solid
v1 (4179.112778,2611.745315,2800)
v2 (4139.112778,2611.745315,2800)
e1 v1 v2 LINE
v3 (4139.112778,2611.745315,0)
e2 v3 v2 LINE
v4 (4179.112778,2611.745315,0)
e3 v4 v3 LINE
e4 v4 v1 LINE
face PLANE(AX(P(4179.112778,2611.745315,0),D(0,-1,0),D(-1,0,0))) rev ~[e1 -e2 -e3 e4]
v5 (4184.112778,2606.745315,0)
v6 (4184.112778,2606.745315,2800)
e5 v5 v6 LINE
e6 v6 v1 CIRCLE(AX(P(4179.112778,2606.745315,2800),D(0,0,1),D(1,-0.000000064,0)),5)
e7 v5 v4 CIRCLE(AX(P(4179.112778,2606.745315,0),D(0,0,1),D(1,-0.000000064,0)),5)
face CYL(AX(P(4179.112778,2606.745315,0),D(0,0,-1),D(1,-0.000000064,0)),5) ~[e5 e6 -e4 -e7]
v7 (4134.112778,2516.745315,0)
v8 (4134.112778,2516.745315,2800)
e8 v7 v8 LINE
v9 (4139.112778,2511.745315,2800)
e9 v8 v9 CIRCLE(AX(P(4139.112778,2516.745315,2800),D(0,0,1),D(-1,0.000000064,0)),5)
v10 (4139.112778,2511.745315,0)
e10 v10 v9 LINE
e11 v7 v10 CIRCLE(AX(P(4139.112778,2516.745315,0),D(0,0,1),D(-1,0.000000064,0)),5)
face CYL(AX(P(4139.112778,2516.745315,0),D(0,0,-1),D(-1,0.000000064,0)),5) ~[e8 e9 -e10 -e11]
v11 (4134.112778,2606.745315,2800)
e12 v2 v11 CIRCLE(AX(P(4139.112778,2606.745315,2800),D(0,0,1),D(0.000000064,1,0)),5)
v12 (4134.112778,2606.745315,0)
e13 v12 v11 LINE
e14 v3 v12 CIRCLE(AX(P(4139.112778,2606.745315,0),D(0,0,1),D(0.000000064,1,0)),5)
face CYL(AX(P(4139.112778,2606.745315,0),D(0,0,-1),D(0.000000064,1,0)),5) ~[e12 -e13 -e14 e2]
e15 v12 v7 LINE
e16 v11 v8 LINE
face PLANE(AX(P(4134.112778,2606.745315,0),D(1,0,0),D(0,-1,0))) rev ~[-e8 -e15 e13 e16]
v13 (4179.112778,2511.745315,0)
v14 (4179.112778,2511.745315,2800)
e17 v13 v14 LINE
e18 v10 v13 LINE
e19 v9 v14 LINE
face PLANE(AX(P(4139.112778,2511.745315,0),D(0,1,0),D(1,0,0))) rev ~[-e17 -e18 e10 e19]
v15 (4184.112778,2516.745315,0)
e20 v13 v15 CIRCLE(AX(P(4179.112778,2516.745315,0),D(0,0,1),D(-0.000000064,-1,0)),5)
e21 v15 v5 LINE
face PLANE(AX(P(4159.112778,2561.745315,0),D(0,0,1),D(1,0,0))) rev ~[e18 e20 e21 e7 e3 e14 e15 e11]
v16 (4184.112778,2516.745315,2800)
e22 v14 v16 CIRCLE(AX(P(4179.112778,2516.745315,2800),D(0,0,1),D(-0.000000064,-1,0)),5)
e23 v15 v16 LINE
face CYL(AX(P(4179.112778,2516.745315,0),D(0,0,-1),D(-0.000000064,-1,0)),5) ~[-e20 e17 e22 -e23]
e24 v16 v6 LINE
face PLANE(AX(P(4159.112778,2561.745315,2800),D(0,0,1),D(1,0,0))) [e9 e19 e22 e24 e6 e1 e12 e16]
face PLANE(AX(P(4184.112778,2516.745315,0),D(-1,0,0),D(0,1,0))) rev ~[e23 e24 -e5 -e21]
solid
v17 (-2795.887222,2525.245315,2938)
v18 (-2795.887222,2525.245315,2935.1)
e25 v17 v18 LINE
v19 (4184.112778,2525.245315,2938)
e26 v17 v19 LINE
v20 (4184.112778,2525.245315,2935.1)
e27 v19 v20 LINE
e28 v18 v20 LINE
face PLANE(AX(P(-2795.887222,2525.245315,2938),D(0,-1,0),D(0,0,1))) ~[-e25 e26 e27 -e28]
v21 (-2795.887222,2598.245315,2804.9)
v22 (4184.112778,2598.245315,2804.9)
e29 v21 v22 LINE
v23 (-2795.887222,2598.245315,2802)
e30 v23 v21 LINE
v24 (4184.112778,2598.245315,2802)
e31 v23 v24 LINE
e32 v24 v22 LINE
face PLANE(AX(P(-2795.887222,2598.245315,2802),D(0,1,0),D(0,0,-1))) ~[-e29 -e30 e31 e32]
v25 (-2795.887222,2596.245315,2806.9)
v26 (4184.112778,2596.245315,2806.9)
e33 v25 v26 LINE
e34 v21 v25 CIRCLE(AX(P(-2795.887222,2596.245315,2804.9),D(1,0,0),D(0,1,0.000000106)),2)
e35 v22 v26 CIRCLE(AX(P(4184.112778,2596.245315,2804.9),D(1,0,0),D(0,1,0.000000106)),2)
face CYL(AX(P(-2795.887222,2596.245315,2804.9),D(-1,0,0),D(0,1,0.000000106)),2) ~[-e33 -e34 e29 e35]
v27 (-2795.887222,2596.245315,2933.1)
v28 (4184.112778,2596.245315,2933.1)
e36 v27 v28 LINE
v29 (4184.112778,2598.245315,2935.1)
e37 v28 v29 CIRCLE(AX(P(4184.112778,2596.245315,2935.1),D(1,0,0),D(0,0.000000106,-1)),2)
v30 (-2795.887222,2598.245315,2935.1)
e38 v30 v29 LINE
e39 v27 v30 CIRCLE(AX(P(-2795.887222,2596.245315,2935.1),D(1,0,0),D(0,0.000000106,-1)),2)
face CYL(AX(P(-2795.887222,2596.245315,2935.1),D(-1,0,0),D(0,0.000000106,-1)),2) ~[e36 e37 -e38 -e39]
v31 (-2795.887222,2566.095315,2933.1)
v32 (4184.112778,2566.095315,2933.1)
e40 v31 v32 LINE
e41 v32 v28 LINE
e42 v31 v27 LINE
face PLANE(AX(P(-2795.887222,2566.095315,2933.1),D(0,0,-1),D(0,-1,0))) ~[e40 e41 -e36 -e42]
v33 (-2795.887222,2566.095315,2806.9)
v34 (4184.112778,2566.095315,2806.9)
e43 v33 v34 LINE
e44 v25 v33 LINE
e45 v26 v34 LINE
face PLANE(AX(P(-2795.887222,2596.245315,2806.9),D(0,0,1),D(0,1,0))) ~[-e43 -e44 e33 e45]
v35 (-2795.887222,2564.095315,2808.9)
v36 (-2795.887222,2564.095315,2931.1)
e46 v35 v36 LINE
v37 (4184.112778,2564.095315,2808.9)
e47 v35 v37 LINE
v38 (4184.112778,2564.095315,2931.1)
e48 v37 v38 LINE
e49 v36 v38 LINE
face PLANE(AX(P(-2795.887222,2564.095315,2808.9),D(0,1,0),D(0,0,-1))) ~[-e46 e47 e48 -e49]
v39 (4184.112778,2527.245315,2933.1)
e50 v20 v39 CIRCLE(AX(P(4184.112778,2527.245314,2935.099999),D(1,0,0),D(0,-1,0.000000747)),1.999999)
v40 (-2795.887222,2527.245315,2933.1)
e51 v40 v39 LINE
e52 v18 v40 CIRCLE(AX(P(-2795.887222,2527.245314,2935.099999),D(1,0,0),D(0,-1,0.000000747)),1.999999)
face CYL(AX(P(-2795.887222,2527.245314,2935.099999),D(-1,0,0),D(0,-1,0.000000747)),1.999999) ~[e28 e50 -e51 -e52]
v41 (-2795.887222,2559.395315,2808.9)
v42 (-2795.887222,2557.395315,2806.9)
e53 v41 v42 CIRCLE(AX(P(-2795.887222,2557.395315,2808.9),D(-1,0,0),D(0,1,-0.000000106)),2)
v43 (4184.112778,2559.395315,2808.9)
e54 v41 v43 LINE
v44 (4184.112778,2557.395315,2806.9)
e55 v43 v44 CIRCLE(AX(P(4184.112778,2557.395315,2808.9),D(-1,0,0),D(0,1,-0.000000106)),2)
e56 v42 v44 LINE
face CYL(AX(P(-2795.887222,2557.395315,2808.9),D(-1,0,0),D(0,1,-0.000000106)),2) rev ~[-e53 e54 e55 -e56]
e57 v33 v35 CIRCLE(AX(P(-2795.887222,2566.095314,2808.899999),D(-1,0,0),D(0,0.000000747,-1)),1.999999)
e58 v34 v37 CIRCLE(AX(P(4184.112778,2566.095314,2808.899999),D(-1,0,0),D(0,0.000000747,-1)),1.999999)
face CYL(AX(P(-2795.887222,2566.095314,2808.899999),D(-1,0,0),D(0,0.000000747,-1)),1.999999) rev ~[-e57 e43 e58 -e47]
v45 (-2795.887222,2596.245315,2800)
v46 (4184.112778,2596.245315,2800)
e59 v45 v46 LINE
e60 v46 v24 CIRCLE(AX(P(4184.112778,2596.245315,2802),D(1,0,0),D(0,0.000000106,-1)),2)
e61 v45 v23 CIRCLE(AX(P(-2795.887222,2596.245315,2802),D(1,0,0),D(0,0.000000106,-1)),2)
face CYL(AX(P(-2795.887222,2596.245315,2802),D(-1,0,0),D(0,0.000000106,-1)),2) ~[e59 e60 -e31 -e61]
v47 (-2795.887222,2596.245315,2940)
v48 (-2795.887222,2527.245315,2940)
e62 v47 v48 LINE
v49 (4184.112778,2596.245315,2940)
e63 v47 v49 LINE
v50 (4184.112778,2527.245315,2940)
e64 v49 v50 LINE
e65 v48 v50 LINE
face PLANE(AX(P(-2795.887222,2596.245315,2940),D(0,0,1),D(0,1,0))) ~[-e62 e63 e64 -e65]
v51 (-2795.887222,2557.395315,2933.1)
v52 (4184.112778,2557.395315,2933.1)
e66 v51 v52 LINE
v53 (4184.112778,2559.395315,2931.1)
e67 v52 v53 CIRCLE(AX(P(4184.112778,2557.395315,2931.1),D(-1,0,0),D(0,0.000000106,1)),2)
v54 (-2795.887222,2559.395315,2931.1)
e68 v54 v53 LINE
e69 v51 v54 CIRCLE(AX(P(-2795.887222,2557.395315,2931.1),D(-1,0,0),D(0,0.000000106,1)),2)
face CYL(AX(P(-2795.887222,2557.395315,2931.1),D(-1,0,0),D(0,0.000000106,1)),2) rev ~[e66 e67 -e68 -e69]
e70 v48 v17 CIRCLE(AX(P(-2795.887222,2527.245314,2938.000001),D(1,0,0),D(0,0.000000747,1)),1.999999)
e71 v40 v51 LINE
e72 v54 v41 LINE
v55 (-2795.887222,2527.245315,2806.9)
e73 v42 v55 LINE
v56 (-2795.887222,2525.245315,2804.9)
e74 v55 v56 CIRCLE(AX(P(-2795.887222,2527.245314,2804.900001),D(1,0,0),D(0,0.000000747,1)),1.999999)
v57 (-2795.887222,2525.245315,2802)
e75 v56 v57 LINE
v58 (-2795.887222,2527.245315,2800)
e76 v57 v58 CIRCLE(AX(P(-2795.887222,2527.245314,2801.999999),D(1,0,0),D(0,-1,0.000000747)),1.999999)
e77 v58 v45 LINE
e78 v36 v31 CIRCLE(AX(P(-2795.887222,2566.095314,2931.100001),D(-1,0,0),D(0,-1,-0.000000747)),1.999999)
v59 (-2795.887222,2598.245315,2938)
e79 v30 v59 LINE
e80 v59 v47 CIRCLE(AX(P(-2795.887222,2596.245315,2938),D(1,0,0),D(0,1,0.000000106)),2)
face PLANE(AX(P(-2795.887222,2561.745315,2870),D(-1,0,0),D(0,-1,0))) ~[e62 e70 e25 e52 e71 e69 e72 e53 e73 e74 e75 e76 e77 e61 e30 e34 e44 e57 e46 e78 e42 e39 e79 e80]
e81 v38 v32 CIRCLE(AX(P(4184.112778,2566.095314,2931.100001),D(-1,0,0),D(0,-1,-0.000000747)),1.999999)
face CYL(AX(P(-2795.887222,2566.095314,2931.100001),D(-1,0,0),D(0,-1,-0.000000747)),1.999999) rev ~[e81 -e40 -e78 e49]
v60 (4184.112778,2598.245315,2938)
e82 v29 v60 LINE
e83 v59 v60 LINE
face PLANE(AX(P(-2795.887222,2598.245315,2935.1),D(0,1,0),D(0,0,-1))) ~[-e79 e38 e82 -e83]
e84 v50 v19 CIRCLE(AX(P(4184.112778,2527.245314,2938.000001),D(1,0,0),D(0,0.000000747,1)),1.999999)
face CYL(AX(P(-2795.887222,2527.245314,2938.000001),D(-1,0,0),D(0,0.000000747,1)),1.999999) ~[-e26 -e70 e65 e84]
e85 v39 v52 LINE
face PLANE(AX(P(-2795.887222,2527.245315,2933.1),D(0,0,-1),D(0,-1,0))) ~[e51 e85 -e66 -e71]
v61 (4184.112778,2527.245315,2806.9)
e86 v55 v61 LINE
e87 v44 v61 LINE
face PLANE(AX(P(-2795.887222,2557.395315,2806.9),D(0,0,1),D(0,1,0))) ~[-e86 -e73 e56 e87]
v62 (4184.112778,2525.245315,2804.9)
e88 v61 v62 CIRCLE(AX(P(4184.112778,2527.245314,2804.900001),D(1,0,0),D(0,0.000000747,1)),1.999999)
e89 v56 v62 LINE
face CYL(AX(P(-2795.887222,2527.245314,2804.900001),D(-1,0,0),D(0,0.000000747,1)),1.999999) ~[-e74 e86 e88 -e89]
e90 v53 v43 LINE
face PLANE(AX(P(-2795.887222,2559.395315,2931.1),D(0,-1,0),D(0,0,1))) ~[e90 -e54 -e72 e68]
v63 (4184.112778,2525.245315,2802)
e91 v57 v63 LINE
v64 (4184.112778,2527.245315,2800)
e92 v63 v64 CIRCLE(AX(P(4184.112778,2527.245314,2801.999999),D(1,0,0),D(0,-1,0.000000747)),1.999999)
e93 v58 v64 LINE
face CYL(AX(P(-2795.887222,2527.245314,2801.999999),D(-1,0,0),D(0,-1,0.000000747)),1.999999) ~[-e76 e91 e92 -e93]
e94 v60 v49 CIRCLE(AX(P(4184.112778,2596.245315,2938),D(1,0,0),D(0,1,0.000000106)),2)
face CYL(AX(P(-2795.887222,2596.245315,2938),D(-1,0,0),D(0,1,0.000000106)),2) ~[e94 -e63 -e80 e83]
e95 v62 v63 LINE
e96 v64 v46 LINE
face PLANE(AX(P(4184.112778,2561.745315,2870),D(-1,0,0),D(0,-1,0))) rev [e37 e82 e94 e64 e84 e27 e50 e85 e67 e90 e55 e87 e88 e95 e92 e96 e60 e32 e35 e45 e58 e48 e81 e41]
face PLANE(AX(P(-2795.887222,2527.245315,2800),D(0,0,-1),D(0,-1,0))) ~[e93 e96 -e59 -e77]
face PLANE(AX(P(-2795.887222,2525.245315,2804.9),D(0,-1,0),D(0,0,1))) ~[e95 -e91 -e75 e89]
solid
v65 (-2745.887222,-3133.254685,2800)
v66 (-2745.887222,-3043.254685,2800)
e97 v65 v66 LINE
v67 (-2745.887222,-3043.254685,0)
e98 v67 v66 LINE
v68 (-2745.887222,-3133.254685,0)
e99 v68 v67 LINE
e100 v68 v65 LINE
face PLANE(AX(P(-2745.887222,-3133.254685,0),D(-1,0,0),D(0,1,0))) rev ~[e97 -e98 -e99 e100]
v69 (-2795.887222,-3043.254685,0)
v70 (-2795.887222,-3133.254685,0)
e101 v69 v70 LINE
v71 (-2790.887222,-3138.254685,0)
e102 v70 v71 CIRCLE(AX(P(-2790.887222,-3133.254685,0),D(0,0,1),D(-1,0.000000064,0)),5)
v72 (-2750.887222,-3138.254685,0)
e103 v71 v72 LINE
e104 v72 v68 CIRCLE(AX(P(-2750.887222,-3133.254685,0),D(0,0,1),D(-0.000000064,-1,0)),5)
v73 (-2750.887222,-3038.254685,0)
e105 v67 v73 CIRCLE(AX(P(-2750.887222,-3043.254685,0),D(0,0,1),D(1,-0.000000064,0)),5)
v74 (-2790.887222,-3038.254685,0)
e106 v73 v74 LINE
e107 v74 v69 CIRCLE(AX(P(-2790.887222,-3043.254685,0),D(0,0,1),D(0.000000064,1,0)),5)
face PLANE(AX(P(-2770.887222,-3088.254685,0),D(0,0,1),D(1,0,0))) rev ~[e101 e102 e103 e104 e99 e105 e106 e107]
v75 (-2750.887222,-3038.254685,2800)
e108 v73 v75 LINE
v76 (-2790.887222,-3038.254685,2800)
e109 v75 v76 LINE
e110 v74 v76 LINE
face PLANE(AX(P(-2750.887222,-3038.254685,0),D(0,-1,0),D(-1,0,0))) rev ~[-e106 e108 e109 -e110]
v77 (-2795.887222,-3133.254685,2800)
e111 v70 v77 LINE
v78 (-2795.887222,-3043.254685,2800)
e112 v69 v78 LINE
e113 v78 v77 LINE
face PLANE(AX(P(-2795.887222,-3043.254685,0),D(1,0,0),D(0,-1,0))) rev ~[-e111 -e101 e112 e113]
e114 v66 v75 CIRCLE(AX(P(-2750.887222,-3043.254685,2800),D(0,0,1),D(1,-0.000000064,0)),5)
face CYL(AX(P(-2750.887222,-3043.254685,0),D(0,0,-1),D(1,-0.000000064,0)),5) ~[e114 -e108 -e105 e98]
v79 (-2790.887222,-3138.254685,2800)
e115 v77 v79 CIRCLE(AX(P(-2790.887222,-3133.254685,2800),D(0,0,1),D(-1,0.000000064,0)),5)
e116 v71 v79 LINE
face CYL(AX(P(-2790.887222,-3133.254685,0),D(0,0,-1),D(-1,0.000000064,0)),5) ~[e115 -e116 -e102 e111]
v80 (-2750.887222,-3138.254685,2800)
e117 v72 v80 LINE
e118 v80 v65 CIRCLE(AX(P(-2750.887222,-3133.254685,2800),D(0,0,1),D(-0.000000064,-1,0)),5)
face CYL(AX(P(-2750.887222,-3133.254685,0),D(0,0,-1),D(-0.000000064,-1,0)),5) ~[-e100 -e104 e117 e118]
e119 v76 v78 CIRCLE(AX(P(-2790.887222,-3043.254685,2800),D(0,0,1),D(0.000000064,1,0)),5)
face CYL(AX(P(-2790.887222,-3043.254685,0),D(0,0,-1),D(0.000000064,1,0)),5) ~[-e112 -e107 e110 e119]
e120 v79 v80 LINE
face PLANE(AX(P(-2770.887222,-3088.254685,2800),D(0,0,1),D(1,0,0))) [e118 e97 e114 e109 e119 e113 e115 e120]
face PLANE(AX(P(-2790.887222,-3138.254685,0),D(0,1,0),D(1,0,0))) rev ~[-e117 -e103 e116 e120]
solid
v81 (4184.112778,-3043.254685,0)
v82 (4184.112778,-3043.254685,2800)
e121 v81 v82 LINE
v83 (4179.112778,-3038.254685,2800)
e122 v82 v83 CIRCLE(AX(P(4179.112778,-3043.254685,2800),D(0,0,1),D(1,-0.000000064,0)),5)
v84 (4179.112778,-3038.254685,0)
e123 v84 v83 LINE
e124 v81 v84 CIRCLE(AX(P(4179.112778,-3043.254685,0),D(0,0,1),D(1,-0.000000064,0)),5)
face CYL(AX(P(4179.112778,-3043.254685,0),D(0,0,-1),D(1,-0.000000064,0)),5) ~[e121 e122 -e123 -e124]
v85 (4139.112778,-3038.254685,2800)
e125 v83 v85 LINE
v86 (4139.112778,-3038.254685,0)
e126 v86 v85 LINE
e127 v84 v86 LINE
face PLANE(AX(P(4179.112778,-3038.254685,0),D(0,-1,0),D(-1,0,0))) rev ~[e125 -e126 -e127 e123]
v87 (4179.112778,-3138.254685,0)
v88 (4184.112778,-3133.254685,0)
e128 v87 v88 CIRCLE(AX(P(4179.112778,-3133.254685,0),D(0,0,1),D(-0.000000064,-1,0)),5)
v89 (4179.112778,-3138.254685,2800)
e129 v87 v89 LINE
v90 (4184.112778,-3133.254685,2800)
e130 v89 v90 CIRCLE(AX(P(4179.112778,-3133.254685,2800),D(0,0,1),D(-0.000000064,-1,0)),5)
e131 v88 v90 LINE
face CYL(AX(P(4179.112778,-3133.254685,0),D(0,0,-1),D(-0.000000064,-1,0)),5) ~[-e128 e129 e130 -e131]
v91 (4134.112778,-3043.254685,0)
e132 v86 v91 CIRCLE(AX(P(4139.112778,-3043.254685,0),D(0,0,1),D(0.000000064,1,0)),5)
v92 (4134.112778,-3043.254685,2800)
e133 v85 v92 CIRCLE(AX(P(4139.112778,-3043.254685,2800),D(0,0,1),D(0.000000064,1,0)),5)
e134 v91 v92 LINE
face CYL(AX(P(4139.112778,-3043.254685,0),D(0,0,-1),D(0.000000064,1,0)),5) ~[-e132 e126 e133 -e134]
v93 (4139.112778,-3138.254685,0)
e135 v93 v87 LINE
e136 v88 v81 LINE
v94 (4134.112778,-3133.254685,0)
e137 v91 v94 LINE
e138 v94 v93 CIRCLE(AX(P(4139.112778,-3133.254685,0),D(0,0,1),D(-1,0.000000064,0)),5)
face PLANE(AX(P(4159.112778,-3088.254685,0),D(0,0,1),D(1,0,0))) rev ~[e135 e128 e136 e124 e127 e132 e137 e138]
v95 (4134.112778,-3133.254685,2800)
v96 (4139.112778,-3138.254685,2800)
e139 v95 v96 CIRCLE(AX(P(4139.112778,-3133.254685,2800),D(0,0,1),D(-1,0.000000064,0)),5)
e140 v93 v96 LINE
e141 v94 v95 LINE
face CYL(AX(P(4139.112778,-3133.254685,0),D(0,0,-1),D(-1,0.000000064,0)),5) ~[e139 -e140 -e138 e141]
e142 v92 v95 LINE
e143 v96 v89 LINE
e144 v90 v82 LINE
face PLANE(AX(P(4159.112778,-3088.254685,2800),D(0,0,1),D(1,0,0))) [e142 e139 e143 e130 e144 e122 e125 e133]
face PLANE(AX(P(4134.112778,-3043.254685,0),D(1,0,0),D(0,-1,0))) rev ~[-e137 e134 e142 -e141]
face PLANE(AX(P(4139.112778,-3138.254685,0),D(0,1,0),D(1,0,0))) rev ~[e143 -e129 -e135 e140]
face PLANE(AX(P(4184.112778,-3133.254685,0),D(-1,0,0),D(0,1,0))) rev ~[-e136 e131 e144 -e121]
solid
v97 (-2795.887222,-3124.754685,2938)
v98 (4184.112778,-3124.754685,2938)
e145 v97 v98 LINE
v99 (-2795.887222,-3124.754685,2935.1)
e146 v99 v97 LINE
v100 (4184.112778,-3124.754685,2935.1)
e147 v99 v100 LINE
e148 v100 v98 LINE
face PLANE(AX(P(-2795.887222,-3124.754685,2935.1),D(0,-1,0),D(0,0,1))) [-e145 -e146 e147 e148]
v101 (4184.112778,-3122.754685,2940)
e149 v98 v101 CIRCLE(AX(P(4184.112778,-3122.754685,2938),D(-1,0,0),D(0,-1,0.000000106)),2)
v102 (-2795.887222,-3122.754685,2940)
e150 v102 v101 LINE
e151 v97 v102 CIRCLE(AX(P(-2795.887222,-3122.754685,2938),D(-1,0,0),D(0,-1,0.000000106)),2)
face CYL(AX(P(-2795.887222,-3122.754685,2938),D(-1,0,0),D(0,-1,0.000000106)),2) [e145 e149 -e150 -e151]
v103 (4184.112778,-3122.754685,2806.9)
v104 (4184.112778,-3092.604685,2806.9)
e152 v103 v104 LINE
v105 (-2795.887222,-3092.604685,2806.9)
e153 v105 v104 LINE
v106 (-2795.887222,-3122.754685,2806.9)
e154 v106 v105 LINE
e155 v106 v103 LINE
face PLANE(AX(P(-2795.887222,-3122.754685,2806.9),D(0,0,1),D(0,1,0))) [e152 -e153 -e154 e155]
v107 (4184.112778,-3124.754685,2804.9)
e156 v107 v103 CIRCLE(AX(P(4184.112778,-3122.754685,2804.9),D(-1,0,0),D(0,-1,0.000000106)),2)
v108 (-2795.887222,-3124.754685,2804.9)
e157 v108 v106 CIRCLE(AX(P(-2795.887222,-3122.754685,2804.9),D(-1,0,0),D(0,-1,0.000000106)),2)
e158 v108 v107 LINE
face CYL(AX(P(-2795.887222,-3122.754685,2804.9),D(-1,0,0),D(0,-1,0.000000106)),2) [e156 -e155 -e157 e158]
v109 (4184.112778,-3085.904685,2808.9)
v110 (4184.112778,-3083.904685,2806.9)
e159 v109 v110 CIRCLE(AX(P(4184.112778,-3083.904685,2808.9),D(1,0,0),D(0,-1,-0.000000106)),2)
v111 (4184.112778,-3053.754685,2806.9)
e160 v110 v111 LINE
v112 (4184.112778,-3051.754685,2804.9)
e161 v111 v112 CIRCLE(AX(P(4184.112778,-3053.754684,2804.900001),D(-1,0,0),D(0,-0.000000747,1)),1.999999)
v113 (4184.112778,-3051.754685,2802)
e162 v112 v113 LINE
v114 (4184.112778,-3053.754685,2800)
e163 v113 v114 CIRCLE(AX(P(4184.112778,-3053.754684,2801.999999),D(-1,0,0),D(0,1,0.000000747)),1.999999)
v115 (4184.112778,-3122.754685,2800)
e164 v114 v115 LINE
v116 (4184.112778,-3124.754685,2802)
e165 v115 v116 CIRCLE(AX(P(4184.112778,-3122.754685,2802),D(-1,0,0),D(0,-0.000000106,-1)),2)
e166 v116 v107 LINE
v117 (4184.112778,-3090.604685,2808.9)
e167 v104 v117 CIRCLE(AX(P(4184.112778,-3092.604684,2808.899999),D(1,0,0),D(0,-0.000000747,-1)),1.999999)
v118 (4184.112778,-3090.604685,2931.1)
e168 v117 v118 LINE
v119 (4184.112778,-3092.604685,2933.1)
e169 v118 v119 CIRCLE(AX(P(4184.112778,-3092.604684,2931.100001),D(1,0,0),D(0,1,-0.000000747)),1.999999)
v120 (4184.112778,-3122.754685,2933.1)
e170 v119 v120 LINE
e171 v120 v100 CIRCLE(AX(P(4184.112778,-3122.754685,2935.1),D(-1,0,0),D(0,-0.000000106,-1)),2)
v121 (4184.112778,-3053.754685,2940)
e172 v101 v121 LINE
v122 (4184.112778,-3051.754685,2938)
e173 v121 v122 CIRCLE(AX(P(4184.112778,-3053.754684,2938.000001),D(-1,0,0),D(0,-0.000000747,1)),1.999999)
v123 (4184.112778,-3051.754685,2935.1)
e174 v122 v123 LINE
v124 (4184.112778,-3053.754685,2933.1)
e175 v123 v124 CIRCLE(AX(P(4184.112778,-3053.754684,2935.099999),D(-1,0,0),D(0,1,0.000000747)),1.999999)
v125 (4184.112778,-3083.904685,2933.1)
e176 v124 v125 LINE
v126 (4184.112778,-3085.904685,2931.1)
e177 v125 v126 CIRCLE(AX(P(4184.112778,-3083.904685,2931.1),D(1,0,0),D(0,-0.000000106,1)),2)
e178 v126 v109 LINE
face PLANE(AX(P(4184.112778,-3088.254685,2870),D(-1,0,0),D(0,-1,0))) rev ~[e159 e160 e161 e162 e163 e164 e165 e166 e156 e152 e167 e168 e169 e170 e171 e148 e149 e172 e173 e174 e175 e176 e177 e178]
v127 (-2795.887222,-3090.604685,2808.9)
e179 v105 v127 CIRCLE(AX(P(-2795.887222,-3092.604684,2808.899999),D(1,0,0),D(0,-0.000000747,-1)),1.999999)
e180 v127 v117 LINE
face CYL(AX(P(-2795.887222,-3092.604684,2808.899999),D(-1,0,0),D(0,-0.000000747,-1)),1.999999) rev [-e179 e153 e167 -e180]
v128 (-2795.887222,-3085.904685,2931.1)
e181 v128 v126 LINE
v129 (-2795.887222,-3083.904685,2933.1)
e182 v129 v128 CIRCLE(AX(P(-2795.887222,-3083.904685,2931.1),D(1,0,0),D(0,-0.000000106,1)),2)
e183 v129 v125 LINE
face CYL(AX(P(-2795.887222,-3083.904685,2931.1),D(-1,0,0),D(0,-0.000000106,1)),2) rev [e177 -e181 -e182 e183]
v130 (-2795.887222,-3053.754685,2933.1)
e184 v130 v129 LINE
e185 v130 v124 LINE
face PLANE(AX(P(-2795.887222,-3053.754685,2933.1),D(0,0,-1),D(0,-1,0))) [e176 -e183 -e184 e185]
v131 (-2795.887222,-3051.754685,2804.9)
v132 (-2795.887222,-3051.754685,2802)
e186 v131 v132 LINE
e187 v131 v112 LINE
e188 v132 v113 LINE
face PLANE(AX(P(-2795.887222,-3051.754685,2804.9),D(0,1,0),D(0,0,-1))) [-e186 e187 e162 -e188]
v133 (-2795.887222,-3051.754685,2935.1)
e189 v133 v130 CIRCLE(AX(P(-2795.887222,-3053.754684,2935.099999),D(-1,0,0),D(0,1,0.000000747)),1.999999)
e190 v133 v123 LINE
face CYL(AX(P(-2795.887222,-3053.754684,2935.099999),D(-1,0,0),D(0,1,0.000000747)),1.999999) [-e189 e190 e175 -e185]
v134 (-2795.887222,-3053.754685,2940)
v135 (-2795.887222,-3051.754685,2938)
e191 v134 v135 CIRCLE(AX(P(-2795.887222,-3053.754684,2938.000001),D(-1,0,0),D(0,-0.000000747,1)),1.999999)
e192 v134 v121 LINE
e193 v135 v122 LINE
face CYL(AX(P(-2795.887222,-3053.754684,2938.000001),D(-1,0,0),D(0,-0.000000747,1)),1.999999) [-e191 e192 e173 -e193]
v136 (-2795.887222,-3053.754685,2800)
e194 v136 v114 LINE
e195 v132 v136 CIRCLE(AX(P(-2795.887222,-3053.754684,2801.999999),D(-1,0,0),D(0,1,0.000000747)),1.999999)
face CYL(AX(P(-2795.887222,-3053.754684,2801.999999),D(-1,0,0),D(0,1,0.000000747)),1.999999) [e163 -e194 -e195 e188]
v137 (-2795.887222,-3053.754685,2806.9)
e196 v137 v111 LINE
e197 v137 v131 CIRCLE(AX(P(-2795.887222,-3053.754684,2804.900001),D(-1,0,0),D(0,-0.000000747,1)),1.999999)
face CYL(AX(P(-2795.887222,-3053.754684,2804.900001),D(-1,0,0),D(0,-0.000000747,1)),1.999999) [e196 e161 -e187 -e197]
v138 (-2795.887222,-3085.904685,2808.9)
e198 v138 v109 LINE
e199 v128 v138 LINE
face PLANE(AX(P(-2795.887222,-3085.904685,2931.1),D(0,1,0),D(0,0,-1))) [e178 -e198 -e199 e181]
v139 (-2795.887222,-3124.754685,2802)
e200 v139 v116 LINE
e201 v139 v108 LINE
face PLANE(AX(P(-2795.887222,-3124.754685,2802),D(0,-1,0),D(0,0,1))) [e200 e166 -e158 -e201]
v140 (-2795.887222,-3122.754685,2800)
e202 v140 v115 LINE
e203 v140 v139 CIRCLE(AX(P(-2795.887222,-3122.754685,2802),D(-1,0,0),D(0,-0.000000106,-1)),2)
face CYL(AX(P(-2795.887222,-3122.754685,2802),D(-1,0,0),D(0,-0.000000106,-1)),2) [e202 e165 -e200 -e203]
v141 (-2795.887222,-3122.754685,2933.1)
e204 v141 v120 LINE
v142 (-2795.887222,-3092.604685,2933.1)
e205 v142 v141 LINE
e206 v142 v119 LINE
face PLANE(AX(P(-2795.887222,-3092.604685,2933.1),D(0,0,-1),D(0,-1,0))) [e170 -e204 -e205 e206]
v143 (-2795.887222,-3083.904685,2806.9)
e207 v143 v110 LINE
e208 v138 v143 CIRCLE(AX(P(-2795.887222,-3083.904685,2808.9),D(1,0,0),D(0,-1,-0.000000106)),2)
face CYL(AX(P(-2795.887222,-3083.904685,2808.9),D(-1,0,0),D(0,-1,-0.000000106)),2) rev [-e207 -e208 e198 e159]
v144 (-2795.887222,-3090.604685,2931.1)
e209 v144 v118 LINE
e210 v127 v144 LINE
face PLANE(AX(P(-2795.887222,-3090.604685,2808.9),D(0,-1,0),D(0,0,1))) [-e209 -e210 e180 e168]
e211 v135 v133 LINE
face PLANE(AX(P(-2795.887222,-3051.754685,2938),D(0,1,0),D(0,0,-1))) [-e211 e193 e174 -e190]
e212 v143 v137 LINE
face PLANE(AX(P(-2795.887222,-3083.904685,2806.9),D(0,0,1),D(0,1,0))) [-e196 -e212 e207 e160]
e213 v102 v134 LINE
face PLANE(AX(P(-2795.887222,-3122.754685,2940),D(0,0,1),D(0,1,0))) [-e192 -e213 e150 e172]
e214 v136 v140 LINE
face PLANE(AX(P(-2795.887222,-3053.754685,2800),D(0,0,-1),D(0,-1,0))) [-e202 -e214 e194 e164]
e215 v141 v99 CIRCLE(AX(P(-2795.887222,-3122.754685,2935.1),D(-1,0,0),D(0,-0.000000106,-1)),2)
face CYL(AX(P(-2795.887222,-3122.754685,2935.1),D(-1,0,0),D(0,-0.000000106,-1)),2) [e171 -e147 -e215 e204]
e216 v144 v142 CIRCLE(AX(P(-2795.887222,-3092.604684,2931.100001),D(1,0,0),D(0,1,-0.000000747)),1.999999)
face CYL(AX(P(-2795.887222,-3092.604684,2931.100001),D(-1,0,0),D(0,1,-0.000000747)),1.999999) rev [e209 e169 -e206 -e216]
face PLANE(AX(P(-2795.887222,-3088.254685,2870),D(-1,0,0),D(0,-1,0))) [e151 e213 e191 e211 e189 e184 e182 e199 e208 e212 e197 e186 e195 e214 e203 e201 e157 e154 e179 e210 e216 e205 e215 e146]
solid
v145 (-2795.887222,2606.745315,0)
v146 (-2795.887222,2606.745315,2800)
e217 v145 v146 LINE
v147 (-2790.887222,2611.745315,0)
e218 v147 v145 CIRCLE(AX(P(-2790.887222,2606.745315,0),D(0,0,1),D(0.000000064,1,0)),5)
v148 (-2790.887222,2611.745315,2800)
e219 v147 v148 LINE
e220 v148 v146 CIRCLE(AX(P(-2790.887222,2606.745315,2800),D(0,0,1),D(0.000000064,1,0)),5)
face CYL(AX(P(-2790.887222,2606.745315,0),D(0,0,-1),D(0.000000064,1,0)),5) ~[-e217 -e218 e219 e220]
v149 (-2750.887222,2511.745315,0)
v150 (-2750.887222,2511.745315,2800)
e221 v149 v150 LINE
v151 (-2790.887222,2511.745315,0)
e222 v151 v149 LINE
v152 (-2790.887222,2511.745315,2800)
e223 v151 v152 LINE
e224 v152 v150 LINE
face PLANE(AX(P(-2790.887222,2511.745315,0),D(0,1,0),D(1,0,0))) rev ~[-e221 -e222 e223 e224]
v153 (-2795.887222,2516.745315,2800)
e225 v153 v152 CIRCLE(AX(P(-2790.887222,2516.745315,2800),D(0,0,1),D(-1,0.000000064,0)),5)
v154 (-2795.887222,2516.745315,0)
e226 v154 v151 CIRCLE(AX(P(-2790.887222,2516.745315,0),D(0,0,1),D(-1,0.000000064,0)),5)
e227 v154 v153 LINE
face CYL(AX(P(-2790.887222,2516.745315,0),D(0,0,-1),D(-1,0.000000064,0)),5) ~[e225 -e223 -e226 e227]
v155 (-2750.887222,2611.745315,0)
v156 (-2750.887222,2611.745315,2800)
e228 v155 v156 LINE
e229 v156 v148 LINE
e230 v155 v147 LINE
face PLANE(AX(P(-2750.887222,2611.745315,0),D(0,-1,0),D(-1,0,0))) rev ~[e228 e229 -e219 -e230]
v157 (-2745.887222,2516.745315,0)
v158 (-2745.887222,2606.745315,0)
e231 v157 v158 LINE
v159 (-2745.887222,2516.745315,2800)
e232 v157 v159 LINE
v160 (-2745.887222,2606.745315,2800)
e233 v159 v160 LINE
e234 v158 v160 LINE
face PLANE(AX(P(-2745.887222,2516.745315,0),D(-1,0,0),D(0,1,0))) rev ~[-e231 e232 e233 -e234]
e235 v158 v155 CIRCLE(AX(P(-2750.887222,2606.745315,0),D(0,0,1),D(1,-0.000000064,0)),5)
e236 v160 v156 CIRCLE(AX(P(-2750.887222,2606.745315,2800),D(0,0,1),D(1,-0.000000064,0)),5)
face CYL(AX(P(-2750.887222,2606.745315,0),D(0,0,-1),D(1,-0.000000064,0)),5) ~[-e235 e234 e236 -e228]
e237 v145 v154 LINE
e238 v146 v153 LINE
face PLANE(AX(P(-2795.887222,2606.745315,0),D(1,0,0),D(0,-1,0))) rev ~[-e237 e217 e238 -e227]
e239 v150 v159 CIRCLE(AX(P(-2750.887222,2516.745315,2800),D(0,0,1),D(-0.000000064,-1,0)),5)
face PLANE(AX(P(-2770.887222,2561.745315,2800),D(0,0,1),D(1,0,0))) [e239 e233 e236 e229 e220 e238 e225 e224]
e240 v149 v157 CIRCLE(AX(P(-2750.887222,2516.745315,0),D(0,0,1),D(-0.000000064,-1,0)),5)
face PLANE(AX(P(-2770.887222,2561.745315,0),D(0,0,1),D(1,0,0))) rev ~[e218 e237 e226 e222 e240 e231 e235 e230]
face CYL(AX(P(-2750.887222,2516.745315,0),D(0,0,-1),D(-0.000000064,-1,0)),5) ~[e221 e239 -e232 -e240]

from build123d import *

# Parameters (mm, degrees)
F2_DEPTH = 2800
F4_DEPTH = 6980


with BuildPart() as f2:
    # F1 (on face) → F2 (new body)
    with BuildSketch(Plane.XY):
        with BuildLine():
            Line((-2750.887222, 2611.745315), (-2790.887222, 2611.745315))
            ThreePointArc((-2790.887222, 2611.745315), (-2794.422756, 2610.280849), (-2795.887222, 2606.745315))
            Line((-2795.887222, 2606.745315), (-2795.887222, 2516.745315))
            ThreePointArc((-2795.887222, 2516.745315), (-2794.422756, 2513.209781), (-2790.887222, 2511.745315))
            Line((-2790.887222, 2511.745315), (-2750.887222, 2511.745315))
            ThreePointArc((-2750.887222, 2511.745315), (-2747.351688, 2513.209781), (-2745.887222, 2516.745315))
            Line((-2745.887222, 2516.745315), (-2745.887222, 2606.745315))
            ThreePointArc((-2745.887222, 2606.745315), (-2747.351688, 2610.280849), (-2750.887222, 2611.745315))
        make_face()
        with BuildLine():
            ThreePointArc((-2790.887222, -3038.254685), (-2794.422756, -3039.719151), (-2795.887222, -3043.254685))
            Line((-2795.887222, -3043.254685), (-2795.887222, -3133.254685))
            ThreePointArc((-2795.887222, -3133.254685), (-2794.422756, -3136.790219), (-2790.887222, -3138.254685))
            Line((-2790.887222, -3138.254685), (-2750.887222, -3138.254685))
            ThreePointArc((-2750.887222, -3138.254685), (-2747.351688, -3136.790219), (-2745.887222, -3133.254685))
            Line((-2745.887222, -3133.254685), (-2745.887222, -3043.254685))
            ThreePointArc((-2745.887222, -3043.254685), (-2747.351688, -3039.719151), (-2750.887222, -3038.254685))
            Line((-2750.887222, -3038.254685), (-2790.887222, -3038.254685))
        make_face()
        with BuildLine():
            Line((4179.112778, -3038.254685), (4139.112778, -3038.254685))
            ThreePointArc((4139.112778, -3038.254685), (4135.577244, -3039.719151), (4134.112778, -3043.254685))
            Line((4134.112778, -3043.254685), (4134.112778, -3133.254685))
            ThreePointArc((4134.112778, -3133.254685), (4135.577244, -3136.790219), (4139.112778, -3138.254685))
            Line((4139.112778, -3138.254685), (4179.112778, -3138.254685))
            ThreePointArc((4179.112778, -3138.254685), (4182.648312, -3136.790219), (4184.112778, -3133.254685))
            Line((4184.112778, -3133.254685), (4184.112778, -3043.254685))
            ThreePointArc((4184.112778, -3043.254685), (4182.648312, -3039.719151), (4179.112778, -3038.254685))
        make_face()
        with BuildLine():
            Line((4139.112778, 2511.745315), (4179.112778, 2511.745315))
            ThreePointArc((4179.112778, 2511.745315), (4182.648312, 2513.209781), (4184.112778, 2516.745315))
            Line((4184.112778, 2516.745315), (4184.112778, 2606.745315))
            ThreePointArc((4184.112778, 2606.745315), (4182.648312, 2610.280849), (4179.112778, 2611.745315))
            Line((4179.112778, 2611.745315), (4139.112778, 2611.745315))
            ThreePointArc((4139.112778, 2611.745315), (4135.577244, 2610.280849), (4134.112778, 2606.745315))
            Line((4134.112778, 2606.745315), (4134.112778, 2516.745315))
            ThreePointArc((4134.112778, 2516.745315), (4135.577244, 2513.209781), (4139.112778, 2511.745315))
        make_face()
    extrude(amount=F2_DEPTH)


with BuildPart() as f4:
    # F3 (on face) → F4 (new body, through all)
    with BuildSketch(Plane(origin=(-2795.887222, 0, 0), x_dir=(0, -1, 0), z_dir=(-1, 0, 0))):
        with BuildLine():
            ThreePointArc((3051.754685, 2802), (3052.340471, 2800.585786), (3053.754685, 2800))
            Line((3053.754685, 2800), (3088.254685, 2800))
            Line((3088.254685, 2800), (3122.754685, 2800))
            ThreePointArc((3122.754685, 2800), (3124.168898, 2800.585786), (3124.754685, 2802))
            Line((3124.754685, 2802), (3124.754685, 2804.9))
            ThreePointArc((3124.754685, 2804.9), (3124.168898, 2806.314214), (3122.754685, 2806.9))
            Line((3122.754685, 2806.9), (3092.604685, 2806.9))
            ThreePointArc((3092.604685, 2806.9), (3091.190471, 2807.485786), (3090.604685, 2808.9))
            Line((3090.604685, 2808.9), (3090.604685, 2931.1))
            ThreePointArc((3090.604685, 2931.1), (3091.190471, 2932.514214), (3092.604685, 2933.1))
            Line((3092.604685, 2933.1), (3122.754685, 2933.1))
            ThreePointArc((3122.754685, 2933.1), (3124.168898, 2933.685786), (3124.754685, 2935.1))
            Line((3124.754685, 2935.1), (3124.754685, 2938))
            ThreePointArc((3124.754685, 2938), (3124.168898, 2939.414214), (3122.754685, 2940))
            Line((3122.754685, 2940), (3088.254685, 2940))
            Line((3088.254685, 2940), (3053.754685, 2940))
            ThreePointArc((3053.754685, 2940), (3052.340471, 2939.414214), (3051.754685, 2938))
            Line((3051.754685, 2938), (3051.754685, 2935.1))
            ThreePointArc((3051.754685, 2935.1), (3052.340471, 2933.685786), (3053.754685, 2933.1))
            Line((3053.754685, 2933.1), (3083.904685, 2933.1))
            ThreePointArc((3083.904685, 2933.1), (3085.318898, 2932.514214), (3085.904685, 2931.1))
            Line((3085.904685, 2931.1), (3085.904685, 2808.9))
            ThreePointArc((3085.904685, 2808.9), (3085.318898, 2807.485786), (3083.904685, 2806.9))
            Line((3083.904685, 2806.9), (3053.754685, 2806.9))
            ThreePointArc((3053.754685, 2806.9), (3052.340471, 2806.314214), (3051.754685, 2804.9))
            Line((3051.754685, 2804.9), (3051.754685, 2802))
        make_face()
    extrude(amount=-F4_DEPTH)


with BuildPart() as f6_1:
    # F6: instance of F4
    add(f4.part.mirror(Plane(origin=(-2770.887222, -263.254685, 1400), x_dir=(1, 0, 0), z_dir=(0, -1, 0))))


solid = Compound([f2.part, f4.part, f6_1.part])
